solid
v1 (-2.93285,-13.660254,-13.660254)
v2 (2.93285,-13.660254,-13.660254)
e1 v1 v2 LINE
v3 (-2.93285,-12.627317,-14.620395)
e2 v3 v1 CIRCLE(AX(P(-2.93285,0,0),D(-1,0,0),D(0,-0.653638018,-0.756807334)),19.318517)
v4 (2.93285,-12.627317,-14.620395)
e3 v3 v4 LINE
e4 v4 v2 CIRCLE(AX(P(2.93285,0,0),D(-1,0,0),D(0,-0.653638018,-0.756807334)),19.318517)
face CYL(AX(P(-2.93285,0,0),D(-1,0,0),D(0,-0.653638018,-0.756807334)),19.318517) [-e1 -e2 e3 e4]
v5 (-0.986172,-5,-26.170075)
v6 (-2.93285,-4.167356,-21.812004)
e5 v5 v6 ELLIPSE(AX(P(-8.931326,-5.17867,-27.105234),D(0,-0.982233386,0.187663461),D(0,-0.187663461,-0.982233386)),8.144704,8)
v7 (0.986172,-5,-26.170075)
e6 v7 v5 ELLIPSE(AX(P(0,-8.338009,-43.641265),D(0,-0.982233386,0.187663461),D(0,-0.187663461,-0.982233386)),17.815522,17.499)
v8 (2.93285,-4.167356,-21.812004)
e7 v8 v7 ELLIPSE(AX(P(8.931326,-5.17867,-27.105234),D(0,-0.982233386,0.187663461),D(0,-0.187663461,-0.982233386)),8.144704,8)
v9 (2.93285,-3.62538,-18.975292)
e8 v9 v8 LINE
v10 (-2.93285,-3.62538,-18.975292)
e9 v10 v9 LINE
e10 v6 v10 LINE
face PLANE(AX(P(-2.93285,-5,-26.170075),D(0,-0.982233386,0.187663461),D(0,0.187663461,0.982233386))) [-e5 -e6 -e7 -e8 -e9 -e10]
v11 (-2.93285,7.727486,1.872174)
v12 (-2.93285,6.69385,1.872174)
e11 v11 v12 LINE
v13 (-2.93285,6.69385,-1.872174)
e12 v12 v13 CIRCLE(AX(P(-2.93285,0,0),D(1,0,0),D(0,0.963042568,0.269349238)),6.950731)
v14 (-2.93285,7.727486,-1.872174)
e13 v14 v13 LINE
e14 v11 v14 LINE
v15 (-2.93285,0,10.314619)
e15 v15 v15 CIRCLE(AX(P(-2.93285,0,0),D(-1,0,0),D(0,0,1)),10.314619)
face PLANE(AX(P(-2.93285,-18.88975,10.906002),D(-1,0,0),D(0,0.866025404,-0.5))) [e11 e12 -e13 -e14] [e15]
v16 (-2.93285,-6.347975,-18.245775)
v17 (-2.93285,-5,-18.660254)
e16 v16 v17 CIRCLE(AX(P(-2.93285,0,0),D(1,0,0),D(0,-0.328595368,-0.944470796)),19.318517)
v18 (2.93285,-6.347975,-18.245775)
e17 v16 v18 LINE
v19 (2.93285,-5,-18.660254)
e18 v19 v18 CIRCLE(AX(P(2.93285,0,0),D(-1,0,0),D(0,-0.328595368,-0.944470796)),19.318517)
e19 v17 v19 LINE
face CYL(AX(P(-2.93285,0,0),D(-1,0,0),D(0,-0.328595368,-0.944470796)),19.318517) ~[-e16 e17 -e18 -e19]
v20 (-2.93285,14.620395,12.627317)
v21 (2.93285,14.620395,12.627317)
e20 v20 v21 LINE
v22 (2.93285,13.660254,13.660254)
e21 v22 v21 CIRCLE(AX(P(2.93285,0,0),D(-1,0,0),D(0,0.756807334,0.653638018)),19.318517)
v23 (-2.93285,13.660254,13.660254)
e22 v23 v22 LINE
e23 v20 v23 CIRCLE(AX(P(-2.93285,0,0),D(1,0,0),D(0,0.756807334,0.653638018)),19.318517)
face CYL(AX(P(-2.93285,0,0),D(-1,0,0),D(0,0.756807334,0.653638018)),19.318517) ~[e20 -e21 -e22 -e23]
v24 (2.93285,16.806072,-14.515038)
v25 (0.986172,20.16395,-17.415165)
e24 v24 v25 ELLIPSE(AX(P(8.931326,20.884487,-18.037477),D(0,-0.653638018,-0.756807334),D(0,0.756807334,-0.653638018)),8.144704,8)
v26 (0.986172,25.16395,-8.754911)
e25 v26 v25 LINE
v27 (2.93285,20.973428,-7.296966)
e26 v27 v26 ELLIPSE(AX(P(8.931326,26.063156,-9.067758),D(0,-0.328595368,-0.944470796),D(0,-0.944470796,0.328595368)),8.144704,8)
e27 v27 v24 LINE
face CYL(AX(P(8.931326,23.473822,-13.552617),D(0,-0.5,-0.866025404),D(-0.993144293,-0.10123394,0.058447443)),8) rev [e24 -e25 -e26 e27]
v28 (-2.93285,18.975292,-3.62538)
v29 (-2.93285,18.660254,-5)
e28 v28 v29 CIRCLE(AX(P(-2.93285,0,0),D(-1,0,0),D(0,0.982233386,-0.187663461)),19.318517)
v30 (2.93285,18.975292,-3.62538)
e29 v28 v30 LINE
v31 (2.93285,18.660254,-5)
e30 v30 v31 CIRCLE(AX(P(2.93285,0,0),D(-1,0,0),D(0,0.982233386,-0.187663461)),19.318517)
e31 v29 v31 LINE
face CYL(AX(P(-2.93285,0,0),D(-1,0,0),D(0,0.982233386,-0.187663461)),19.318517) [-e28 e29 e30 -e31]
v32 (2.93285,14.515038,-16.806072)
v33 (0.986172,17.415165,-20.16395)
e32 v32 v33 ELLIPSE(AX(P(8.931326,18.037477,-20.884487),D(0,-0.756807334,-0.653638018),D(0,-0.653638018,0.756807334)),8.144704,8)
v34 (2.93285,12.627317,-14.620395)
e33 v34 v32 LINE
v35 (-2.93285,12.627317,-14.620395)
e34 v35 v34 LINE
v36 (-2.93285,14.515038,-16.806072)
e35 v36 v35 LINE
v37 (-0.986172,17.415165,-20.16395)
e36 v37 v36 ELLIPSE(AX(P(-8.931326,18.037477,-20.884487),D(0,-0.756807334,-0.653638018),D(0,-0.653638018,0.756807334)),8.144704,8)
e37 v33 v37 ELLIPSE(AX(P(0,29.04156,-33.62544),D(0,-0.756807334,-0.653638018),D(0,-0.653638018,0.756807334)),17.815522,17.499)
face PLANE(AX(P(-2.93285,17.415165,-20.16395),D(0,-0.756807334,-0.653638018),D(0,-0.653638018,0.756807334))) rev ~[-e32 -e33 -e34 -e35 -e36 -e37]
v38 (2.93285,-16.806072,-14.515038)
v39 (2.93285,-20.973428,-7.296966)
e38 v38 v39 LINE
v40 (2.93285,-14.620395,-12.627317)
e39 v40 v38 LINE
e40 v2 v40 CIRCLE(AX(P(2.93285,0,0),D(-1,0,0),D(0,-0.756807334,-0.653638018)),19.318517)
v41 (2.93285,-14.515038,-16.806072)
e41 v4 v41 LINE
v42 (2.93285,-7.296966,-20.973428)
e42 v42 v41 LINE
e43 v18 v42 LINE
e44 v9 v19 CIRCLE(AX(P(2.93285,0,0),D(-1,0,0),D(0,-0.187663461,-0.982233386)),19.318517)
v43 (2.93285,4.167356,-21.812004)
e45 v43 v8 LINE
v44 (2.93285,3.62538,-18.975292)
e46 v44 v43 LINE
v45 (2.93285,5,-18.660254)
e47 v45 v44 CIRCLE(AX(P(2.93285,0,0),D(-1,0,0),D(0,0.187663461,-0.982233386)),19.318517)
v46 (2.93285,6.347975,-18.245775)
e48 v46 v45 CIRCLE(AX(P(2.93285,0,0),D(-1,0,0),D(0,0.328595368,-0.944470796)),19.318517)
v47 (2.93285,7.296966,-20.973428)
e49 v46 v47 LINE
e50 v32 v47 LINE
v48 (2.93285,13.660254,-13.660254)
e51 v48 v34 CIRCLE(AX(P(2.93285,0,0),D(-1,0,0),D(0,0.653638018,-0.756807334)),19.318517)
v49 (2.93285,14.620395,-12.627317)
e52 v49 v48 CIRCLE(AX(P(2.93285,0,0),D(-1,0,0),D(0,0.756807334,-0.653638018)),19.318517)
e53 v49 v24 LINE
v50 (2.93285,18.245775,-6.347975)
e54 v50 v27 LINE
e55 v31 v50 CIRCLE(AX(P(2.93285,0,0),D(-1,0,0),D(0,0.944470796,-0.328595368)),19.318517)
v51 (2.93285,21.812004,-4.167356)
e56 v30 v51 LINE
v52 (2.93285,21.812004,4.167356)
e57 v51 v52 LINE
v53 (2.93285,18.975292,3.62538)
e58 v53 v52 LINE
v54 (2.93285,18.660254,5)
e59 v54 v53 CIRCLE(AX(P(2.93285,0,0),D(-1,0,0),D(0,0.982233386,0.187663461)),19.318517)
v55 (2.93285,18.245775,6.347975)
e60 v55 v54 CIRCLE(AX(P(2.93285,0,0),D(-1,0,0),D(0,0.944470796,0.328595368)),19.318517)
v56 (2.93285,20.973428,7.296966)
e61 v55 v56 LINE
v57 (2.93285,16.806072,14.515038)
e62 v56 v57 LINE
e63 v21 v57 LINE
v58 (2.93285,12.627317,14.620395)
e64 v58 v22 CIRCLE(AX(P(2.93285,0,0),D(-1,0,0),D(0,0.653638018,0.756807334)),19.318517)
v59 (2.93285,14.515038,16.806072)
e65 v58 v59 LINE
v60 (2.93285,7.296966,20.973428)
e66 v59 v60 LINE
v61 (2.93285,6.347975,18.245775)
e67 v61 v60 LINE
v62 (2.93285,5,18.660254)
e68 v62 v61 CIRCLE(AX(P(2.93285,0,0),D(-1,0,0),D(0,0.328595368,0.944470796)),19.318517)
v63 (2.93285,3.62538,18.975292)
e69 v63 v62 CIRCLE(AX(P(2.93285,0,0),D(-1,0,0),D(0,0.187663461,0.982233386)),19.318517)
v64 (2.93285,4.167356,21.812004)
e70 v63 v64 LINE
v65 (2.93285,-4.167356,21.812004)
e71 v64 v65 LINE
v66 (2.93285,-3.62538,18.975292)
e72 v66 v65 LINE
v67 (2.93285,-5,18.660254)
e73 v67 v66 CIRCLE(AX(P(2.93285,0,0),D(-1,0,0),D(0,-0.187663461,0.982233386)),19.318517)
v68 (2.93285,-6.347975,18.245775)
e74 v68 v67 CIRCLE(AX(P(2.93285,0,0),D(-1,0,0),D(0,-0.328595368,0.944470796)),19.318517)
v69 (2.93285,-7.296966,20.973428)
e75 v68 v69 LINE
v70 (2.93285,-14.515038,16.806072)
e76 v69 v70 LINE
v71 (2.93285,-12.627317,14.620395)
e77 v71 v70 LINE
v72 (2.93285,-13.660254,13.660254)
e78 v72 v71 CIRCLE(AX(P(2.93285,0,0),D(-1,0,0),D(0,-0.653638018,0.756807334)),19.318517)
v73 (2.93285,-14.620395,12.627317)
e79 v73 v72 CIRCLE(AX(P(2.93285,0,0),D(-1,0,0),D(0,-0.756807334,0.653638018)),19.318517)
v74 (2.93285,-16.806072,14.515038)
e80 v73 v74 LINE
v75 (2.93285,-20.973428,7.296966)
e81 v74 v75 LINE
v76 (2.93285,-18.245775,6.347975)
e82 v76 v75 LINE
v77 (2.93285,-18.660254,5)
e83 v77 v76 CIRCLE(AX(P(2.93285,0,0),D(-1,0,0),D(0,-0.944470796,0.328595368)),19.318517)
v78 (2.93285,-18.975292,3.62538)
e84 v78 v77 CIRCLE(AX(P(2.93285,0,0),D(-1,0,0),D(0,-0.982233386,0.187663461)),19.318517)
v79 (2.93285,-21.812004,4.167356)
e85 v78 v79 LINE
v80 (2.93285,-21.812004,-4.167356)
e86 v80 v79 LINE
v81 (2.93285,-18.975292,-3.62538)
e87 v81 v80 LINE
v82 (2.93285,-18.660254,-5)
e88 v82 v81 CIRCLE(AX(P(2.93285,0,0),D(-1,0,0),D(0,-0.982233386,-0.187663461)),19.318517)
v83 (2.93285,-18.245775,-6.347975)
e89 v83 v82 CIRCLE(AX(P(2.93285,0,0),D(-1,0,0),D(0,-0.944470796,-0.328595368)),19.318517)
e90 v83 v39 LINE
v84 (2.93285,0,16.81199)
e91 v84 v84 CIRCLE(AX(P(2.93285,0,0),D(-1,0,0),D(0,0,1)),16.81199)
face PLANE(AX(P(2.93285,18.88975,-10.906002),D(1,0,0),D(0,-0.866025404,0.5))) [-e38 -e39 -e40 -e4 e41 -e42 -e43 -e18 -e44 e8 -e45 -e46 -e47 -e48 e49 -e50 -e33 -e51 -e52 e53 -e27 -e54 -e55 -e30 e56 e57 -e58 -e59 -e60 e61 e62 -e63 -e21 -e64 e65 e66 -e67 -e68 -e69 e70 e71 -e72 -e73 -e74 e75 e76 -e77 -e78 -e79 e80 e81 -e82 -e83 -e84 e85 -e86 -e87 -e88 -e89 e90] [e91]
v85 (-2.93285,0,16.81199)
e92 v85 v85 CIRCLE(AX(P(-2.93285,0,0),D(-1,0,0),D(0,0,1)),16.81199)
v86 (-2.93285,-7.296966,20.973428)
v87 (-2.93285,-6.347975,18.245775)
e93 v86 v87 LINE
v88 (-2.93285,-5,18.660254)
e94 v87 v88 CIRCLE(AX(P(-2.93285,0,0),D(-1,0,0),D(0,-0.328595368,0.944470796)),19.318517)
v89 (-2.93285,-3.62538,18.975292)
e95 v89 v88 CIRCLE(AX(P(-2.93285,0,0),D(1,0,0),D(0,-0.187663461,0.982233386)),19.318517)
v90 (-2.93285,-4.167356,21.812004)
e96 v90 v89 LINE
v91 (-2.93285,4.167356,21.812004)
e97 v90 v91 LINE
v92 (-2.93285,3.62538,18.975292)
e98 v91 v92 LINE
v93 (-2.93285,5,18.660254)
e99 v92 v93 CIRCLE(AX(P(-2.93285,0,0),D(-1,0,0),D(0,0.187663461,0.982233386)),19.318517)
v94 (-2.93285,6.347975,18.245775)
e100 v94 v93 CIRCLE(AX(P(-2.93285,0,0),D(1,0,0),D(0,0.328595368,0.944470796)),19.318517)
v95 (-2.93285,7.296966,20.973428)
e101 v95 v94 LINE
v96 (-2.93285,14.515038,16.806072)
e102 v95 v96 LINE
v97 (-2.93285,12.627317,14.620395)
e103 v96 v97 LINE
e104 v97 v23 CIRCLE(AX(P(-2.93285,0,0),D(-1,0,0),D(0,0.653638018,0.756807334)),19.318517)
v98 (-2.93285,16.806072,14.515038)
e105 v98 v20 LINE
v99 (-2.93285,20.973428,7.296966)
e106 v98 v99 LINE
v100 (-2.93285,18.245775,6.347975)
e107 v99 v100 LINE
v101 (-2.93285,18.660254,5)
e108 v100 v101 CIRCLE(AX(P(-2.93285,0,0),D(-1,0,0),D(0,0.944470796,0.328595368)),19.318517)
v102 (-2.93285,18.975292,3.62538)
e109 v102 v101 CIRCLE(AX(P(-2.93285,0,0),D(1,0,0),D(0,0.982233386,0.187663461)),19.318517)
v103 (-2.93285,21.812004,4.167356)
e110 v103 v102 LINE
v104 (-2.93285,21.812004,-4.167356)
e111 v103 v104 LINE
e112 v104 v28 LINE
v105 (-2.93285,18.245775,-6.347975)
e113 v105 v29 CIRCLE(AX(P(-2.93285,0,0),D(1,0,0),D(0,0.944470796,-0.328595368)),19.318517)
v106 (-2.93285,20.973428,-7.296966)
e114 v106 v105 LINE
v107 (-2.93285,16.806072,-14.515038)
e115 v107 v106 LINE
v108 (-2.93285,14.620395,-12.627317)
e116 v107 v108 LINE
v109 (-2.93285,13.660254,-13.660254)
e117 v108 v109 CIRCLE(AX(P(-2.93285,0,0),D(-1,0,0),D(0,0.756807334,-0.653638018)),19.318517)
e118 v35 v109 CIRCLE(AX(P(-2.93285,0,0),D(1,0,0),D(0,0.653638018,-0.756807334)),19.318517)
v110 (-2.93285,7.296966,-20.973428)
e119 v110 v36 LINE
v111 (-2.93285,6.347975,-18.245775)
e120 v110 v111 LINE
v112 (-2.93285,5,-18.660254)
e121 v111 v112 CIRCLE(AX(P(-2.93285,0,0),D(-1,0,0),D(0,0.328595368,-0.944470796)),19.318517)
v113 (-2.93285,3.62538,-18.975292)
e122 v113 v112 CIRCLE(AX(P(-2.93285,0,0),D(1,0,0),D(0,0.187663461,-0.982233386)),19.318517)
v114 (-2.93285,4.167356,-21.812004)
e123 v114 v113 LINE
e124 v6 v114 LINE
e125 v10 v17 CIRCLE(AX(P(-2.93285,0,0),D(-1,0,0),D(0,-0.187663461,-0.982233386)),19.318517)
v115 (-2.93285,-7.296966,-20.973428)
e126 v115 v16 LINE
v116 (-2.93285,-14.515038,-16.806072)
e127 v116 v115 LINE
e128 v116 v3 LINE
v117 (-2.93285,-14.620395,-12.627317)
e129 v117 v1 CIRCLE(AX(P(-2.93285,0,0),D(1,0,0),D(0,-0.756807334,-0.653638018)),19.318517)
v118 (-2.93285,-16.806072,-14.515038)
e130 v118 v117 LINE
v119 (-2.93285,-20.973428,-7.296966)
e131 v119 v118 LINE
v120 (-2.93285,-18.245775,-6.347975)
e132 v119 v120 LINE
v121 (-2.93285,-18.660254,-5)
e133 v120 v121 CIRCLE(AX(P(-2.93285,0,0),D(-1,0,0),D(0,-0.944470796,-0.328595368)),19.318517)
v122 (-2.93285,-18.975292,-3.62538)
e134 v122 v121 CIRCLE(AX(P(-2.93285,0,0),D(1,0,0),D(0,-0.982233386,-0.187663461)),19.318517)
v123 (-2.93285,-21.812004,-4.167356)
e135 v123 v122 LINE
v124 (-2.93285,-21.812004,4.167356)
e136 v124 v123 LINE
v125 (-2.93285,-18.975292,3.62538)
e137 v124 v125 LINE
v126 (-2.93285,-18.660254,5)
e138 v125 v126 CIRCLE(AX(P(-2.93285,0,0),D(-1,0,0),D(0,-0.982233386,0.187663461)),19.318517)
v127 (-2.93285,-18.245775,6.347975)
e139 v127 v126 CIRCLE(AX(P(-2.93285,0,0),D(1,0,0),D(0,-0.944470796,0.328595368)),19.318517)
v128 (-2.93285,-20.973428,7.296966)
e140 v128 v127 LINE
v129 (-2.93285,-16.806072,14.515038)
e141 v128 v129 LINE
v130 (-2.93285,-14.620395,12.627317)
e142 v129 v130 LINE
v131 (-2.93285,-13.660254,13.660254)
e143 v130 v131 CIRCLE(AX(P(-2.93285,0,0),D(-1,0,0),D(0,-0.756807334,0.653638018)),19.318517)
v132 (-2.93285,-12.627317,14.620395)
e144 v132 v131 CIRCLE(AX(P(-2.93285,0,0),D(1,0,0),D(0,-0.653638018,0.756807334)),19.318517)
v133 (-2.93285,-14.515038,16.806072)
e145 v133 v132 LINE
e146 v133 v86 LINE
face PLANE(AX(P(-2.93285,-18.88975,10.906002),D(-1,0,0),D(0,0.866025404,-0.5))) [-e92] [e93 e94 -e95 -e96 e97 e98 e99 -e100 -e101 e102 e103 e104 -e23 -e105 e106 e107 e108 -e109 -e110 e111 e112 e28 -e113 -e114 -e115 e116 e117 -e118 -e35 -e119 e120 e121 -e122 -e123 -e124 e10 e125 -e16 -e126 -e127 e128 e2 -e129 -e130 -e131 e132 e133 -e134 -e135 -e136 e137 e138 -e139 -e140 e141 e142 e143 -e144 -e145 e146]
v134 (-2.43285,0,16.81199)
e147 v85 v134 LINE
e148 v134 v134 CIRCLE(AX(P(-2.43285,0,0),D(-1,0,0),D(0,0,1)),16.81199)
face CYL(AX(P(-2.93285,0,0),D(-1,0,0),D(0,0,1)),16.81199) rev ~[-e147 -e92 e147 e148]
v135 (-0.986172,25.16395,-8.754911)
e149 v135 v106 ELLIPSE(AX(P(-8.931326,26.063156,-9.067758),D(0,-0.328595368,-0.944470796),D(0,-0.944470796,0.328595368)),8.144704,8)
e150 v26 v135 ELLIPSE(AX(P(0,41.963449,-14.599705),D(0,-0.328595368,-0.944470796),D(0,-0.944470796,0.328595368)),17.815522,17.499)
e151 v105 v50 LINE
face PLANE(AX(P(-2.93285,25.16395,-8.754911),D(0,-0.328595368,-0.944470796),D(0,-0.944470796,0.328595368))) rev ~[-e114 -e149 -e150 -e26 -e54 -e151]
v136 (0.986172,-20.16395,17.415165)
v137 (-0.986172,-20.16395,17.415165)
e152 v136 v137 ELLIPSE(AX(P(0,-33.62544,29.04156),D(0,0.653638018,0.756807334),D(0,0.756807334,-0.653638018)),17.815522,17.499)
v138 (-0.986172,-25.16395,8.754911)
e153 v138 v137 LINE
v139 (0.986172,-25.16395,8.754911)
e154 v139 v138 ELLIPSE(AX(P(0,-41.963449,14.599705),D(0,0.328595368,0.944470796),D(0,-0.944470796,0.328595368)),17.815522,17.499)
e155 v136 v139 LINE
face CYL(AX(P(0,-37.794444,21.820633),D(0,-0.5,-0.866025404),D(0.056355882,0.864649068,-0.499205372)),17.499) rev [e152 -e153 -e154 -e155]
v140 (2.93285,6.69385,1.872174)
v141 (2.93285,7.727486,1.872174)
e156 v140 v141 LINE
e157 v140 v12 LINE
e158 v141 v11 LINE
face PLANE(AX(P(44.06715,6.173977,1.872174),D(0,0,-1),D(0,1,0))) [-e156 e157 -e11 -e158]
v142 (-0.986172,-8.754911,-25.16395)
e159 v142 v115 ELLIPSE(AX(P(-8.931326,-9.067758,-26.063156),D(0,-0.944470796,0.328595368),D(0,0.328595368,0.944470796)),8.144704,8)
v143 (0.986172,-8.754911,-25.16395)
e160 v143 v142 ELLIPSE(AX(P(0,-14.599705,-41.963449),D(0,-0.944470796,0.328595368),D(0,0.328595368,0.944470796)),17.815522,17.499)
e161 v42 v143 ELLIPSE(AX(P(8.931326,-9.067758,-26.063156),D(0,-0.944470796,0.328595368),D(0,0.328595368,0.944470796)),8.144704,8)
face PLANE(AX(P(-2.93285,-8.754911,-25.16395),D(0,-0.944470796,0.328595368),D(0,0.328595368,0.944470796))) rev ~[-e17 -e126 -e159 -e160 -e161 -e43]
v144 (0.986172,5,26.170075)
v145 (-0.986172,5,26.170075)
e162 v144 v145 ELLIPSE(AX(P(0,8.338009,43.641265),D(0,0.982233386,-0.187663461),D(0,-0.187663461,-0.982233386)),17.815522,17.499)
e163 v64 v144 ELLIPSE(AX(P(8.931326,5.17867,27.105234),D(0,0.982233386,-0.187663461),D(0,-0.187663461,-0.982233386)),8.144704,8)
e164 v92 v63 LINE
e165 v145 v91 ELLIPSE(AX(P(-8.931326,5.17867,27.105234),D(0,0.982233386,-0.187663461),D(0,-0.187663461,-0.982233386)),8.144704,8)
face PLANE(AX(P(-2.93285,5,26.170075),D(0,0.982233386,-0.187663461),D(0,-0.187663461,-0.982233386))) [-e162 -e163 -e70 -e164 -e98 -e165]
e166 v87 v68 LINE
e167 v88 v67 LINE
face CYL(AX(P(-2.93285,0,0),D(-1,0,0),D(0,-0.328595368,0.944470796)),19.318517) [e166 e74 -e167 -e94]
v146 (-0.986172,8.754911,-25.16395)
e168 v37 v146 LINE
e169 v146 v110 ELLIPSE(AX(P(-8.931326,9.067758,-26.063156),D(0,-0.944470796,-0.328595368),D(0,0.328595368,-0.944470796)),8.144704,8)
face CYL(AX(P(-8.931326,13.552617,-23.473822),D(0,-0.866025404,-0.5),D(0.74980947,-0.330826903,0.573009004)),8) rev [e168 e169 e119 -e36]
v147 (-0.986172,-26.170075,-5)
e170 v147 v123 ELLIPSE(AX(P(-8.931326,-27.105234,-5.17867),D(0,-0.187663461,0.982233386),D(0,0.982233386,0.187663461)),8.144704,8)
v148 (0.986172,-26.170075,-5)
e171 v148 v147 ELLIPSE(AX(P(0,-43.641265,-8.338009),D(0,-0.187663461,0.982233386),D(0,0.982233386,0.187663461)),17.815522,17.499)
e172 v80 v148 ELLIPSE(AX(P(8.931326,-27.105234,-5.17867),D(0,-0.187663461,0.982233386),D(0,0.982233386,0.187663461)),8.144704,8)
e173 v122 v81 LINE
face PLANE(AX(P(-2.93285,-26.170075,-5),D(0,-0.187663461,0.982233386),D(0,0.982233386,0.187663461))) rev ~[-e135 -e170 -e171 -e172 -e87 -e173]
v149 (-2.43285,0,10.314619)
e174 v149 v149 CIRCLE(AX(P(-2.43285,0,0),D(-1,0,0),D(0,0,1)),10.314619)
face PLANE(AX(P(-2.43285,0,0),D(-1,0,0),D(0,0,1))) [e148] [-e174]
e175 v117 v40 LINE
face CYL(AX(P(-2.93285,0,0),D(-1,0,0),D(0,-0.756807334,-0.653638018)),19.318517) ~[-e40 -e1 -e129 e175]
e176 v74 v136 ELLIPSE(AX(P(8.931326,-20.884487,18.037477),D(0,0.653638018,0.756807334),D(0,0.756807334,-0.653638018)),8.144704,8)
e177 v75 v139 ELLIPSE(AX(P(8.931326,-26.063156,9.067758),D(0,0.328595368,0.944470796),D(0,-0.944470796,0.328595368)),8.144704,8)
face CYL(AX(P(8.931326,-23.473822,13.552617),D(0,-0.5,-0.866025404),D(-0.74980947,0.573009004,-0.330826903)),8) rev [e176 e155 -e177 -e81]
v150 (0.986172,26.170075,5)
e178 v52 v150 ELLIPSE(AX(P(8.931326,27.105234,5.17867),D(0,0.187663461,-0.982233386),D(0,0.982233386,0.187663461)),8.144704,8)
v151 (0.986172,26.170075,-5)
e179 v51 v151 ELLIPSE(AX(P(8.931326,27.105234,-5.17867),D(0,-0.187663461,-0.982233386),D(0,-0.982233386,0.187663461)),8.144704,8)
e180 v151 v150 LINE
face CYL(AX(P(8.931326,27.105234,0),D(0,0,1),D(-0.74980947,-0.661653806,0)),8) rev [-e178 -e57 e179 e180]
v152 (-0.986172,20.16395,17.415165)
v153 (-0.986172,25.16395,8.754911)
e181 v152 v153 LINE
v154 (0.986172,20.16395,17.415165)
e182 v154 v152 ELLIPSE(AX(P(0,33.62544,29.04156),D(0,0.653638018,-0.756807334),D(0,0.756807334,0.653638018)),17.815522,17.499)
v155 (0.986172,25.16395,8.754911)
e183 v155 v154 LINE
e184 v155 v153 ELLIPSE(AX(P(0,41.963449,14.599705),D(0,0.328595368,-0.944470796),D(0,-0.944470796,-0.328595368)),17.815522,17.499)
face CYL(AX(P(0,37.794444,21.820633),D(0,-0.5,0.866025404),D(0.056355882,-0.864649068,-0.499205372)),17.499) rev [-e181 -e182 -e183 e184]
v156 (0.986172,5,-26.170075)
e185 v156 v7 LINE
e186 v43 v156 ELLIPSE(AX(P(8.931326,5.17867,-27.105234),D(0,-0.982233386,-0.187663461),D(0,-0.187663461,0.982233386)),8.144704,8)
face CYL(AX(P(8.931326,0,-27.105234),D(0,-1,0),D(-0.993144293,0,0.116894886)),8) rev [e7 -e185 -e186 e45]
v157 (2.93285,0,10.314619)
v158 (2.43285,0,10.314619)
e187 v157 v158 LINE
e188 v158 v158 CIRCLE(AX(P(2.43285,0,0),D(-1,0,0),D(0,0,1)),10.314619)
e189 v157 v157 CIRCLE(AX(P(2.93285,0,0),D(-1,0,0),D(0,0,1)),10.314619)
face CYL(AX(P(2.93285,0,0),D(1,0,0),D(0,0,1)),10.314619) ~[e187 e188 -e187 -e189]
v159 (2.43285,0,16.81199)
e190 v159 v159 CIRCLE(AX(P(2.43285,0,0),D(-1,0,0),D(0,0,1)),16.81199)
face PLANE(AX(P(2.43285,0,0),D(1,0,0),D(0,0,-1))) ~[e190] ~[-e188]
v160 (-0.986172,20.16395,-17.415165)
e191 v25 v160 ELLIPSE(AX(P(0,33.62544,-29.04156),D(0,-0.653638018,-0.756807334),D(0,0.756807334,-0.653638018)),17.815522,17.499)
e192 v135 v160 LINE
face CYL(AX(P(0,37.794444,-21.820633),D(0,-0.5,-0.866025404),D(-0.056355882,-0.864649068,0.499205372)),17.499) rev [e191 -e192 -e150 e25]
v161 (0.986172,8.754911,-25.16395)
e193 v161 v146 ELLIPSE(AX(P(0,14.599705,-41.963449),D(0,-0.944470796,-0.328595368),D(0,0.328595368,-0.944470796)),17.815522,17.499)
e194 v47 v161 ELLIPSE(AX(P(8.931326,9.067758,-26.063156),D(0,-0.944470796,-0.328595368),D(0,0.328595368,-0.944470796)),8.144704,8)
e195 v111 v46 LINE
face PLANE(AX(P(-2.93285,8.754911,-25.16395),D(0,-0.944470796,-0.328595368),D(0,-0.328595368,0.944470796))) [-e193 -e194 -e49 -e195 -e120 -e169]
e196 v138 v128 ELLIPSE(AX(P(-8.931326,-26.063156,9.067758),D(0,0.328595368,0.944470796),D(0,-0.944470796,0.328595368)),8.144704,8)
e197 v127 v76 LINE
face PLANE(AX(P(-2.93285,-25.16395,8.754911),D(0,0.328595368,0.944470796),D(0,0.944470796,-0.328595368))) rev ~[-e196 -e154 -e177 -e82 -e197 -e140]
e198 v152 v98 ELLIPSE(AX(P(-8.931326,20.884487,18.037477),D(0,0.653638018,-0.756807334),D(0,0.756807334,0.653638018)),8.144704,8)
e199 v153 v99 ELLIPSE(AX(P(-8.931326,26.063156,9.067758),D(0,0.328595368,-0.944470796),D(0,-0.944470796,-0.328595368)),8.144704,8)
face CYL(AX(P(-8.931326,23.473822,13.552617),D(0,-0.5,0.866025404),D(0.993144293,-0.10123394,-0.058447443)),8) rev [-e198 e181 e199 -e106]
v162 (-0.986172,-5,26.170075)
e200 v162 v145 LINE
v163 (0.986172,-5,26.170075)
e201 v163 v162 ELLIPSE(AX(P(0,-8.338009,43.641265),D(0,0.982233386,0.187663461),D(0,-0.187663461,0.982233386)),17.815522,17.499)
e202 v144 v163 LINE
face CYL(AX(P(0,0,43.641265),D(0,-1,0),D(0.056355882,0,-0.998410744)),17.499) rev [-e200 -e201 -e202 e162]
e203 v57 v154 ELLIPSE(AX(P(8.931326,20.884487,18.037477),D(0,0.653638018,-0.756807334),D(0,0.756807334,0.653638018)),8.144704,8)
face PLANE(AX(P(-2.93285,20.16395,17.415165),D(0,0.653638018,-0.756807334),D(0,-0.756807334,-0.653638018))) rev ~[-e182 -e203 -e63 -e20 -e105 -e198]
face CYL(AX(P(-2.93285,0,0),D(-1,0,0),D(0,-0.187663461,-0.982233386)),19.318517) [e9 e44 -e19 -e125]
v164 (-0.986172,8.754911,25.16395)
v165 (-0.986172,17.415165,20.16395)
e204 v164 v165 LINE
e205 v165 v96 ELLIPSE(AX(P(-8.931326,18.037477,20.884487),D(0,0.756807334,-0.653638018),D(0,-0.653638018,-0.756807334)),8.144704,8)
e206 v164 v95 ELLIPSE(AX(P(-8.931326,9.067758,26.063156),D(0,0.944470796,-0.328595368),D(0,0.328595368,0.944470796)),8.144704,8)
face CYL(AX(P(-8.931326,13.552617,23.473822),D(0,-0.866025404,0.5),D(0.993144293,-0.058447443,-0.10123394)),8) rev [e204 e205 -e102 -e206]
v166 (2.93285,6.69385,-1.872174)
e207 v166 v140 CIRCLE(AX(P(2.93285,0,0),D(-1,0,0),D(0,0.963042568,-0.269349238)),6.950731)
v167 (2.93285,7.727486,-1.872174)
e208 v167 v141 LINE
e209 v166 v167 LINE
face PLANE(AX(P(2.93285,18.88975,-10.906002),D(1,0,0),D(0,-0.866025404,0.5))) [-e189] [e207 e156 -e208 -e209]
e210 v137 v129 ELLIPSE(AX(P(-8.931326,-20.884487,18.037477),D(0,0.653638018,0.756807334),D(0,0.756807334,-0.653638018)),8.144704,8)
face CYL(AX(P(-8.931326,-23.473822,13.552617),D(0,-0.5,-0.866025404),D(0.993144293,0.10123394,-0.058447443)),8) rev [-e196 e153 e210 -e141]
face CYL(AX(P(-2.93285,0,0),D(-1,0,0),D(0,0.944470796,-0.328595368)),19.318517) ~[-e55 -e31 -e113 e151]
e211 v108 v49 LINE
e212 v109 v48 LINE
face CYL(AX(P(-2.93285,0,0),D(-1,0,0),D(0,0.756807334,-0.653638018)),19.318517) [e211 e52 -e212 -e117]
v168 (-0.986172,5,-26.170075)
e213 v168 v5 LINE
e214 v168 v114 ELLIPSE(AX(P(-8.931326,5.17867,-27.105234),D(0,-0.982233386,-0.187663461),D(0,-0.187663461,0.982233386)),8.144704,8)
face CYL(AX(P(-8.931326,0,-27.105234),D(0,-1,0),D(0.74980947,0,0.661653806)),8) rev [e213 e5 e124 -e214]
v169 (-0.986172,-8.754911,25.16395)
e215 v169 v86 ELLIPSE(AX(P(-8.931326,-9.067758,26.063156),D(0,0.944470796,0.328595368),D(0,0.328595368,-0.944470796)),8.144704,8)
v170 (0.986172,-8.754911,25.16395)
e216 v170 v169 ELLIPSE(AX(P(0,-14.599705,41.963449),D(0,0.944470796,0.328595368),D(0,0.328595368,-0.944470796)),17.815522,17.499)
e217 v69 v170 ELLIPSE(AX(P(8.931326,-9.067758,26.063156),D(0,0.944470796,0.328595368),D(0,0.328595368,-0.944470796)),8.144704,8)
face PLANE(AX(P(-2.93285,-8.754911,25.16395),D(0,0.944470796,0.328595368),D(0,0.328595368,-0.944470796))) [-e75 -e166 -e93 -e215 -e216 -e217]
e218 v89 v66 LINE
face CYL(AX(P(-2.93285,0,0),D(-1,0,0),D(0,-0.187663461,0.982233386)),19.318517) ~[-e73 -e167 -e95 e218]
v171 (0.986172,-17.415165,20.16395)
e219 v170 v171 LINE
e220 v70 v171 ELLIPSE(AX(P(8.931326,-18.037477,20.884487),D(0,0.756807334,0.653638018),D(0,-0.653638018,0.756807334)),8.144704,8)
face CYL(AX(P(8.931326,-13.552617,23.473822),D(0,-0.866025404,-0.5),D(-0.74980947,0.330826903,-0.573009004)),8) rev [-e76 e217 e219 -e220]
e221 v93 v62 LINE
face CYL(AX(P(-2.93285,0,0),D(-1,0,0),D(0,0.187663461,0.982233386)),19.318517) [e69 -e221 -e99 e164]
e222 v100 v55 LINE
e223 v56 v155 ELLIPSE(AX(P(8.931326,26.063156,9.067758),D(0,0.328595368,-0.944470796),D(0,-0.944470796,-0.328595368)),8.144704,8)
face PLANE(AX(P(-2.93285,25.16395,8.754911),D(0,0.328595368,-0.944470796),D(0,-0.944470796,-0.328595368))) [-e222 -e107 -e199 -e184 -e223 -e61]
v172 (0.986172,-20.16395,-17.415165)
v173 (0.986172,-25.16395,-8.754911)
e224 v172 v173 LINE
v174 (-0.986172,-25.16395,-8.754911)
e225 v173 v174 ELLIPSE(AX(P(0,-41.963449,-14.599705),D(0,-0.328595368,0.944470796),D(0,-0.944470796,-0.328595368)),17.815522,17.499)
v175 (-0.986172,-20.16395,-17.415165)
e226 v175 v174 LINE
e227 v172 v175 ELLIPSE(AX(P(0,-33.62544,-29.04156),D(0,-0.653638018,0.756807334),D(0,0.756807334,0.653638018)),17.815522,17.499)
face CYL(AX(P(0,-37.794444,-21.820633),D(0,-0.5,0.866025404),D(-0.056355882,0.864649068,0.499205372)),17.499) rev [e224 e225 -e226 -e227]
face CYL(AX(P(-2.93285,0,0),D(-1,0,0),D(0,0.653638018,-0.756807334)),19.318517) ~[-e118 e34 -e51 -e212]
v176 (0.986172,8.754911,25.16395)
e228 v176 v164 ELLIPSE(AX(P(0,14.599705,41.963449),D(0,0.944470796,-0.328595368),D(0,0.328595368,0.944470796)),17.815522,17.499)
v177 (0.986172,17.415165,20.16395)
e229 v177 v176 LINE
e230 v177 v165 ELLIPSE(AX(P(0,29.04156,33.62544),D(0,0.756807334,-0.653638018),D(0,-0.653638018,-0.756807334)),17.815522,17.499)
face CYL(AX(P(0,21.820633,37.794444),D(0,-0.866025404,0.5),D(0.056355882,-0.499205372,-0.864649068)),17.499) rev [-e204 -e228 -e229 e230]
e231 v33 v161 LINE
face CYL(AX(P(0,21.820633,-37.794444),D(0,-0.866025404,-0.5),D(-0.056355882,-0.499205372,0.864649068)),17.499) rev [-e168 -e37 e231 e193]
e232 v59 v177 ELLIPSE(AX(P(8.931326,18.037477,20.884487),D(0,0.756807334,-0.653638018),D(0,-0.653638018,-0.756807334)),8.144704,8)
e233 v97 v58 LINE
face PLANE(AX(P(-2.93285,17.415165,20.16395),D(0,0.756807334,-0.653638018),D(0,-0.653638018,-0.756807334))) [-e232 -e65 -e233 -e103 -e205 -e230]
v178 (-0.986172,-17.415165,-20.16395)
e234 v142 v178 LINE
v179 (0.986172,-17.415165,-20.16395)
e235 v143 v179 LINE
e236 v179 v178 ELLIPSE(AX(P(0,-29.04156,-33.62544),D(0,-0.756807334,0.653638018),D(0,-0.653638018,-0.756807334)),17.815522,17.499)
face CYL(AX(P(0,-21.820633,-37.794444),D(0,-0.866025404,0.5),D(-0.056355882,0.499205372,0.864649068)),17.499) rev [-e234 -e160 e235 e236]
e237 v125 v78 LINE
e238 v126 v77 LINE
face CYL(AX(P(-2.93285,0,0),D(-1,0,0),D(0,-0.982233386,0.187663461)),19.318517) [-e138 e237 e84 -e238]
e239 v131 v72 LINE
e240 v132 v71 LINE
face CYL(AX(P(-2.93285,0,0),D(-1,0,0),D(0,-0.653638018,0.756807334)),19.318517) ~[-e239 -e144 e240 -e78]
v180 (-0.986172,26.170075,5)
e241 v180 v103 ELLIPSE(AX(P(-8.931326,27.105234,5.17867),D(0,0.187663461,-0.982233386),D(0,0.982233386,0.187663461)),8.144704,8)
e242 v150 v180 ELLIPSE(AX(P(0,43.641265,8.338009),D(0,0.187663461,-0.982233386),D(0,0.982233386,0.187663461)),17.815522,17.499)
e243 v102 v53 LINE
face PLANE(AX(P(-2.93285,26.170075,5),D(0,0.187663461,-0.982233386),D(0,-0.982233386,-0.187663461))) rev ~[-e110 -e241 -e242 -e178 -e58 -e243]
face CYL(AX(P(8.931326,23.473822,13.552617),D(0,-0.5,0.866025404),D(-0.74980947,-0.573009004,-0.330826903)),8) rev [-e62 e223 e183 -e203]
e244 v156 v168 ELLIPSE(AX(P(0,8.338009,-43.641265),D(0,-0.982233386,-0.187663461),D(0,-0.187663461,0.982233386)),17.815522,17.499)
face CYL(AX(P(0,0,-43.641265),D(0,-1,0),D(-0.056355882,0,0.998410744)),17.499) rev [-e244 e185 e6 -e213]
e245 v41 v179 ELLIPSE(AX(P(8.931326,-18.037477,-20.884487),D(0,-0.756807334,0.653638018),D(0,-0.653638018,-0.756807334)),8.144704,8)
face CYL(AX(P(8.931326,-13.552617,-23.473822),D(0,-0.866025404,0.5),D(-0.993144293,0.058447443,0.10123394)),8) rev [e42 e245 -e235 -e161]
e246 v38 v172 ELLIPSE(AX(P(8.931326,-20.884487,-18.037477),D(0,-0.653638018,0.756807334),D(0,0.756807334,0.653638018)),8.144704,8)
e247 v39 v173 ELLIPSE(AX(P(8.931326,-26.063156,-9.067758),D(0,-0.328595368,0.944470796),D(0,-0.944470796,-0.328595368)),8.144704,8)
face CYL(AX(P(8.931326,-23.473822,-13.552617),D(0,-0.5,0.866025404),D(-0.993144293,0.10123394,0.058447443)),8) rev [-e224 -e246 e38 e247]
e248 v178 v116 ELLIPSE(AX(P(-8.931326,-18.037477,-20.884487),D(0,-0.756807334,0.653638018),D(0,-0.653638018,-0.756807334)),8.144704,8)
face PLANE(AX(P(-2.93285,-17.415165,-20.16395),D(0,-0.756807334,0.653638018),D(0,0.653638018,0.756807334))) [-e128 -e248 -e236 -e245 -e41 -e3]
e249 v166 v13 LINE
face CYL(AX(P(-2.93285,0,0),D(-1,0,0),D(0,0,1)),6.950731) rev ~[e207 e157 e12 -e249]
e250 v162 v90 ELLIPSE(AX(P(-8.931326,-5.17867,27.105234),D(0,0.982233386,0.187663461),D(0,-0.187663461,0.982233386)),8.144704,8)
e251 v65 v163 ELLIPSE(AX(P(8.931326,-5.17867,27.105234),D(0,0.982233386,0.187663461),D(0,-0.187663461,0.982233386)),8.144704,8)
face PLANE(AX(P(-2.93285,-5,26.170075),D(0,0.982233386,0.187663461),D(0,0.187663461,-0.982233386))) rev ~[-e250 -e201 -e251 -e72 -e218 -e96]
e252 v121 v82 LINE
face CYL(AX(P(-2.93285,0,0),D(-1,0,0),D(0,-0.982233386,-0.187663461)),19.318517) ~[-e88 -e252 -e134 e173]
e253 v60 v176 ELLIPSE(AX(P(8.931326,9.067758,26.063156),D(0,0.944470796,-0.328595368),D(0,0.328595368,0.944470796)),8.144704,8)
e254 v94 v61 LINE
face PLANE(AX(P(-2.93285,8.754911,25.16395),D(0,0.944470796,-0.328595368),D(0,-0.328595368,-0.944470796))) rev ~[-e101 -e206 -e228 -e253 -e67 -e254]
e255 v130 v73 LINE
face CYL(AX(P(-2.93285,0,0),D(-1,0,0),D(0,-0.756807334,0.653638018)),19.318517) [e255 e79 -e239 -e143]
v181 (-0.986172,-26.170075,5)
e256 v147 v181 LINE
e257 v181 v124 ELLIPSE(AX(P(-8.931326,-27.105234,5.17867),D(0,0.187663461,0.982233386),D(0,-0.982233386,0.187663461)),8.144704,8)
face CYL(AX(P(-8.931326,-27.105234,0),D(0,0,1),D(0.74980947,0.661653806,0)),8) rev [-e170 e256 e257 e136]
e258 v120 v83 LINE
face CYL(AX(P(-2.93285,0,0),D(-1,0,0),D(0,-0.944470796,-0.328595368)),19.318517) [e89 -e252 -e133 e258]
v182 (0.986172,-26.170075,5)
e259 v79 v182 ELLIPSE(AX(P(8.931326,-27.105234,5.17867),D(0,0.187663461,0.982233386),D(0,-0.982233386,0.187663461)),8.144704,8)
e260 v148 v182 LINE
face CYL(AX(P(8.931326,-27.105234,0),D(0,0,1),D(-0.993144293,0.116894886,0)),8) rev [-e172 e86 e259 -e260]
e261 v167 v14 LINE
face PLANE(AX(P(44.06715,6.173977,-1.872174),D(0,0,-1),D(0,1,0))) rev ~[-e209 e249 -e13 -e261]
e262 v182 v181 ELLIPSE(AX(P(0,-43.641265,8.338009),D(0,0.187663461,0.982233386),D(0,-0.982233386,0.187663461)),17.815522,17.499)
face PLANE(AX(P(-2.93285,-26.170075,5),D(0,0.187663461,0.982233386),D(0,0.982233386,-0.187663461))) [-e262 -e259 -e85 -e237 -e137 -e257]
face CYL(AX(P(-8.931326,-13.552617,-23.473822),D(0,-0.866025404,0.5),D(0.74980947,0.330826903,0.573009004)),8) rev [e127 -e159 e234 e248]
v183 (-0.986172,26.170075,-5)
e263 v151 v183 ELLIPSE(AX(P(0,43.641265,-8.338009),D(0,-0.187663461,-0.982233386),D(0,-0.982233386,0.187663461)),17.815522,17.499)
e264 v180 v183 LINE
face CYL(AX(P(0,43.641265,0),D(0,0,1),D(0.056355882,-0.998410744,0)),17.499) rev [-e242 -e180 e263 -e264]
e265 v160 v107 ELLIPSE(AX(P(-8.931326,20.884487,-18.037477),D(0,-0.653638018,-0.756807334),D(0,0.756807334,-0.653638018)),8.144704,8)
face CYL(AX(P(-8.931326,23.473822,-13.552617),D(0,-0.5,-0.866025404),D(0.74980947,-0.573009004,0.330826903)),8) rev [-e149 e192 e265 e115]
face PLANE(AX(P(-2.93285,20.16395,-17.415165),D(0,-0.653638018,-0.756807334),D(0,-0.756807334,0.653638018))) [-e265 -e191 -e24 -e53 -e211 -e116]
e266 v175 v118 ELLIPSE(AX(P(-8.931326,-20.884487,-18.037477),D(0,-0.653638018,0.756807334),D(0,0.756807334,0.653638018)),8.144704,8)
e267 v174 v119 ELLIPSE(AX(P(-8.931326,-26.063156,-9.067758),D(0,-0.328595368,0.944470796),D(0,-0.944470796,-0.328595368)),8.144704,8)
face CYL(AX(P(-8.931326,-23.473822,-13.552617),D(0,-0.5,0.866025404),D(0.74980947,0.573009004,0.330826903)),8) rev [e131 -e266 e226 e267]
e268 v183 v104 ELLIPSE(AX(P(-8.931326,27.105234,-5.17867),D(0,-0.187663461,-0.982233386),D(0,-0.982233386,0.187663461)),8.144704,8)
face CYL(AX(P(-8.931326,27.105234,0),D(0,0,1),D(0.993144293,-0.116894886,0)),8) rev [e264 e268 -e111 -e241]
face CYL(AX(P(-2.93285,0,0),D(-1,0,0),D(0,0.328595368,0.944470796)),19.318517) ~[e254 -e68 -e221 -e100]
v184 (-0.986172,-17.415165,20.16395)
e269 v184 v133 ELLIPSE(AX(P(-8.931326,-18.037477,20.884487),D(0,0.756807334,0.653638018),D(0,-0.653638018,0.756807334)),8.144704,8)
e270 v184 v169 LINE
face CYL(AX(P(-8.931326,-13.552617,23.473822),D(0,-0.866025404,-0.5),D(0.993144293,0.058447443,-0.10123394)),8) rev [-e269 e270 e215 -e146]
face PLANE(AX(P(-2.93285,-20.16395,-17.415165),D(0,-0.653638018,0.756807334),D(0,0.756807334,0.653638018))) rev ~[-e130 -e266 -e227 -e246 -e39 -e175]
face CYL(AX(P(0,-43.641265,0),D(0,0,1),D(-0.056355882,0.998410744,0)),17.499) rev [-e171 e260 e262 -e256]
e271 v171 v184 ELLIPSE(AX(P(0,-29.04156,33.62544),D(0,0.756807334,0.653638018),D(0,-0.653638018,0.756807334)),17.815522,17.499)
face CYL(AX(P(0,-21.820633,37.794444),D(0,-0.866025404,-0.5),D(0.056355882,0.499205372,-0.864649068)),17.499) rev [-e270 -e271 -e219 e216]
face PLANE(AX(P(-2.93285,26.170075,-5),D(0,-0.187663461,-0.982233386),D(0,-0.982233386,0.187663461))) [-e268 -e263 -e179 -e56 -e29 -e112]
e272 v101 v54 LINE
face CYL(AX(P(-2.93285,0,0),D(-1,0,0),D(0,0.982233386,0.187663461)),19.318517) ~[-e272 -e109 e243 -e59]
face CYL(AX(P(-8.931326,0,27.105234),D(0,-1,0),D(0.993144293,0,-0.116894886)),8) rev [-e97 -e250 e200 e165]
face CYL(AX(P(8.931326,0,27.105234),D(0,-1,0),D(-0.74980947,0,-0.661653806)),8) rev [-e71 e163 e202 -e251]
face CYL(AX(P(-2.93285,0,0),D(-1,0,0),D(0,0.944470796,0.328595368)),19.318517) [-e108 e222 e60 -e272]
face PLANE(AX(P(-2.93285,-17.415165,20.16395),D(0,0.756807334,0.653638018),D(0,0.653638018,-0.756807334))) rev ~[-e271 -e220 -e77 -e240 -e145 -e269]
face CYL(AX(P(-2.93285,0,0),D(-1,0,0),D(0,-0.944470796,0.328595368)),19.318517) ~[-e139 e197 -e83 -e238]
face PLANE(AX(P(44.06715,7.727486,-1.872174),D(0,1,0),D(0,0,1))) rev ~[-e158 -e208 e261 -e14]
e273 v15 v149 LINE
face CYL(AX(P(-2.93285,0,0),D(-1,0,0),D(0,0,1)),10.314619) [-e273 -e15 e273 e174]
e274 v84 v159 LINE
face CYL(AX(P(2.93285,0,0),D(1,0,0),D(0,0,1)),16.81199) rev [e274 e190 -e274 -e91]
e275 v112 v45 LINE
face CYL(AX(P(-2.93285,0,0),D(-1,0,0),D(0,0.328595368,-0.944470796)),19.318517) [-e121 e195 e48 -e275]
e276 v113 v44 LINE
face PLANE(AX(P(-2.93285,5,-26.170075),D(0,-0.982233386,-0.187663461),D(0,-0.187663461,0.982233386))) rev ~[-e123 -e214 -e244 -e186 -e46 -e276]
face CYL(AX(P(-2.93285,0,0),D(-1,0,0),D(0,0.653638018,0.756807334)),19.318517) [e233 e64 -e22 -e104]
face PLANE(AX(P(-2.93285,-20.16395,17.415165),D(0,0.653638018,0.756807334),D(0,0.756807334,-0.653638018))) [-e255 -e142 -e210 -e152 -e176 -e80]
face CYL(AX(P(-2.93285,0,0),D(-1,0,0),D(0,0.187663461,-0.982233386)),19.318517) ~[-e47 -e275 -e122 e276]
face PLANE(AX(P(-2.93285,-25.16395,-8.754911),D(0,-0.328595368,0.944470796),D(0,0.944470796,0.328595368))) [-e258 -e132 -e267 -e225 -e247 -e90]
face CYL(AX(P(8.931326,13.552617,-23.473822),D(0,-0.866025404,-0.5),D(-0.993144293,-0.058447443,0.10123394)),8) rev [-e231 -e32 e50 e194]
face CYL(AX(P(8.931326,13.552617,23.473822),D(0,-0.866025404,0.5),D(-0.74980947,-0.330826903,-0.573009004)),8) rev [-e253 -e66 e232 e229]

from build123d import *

# Parameters (mm, degrees)
BOSS_EXTRUDE1_DEPTH     = 5
CIRPATTERN1_COUNT       = 12
SKETCH4_R               = 16.811989879
SKETCH4_R_2             = 10.314619087
CUT_EXTRUDE1_DEPTH      = 0.5
SKETCH5_R               = 6.950731161
CUT_EXTRUDE2_DEPTH      = 46.5
CUT_EXTRUDE3_DEPTH      = 46.5
CIRPATTERN2_COUNT       = 12
CUT_EXTRUDE4_DEPTH      = 46.5
CUT_EXTRUDE4_DEPTH_BACK = 46.5
SKETCH10_W              = 3.744348286
SKETCH10_H              = 1.553508974


with BuildPart() as part:
    # Sketch1 → Boss-Extrude1 (new, symmetric)
    with BuildSketch(Plane.XY):
        with BuildLine():
            ThreePointArc((-0.986171591, 26.170075379), (-1.626916196, 23.842475136), (-2.932850173, 21.812004013))
            Line((-2.932850173, 21.812004013), (-2.932850173, -21.812004013))
            ThreePointArc((-2.932850173, -21.812004013), (-1.626916196, -23.842475136), (-0.986171591, -26.170075379))
            ThreePointArc((-0.986171591, -26.170075379), (0, -26.142264995), (0.986171591, -26.170075379))
            ThreePointArc((0.986171591, -26.170075379), (1.626916196, -23.842475136), (2.932850173, -21.812004013))
            Line((2.932850173, -21.812004013), (2.932850173, 21.812004013))
            ThreePointArc((2.932850173, 21.812004013), (1.626916196, 23.842475136), (0.986171591, 26.170075379))
            ThreePointArc((0.986171591, 26.170075379), (0, 26.142264995), (-0.986171591, 26.170075379))
        make_face()
    boss_extrude1 = extrude(amount=BOSS_EXTRUDE1_DEPTH, both=True)

    # CirPattern1: Boss-Extrude1 ×12 about axis
    cirpattern1_axis = Axis((-1000, 0, 0), (1, 0, 0))
    for i in range(1, CIRPATTERN1_COUNT):
        add(boss_extrude1.rotate(cirpattern1_axis, i * 360 / CIRPATTERN1_COUNT))

    # Sketch4 → Cut-Extrude1 (cut)
    with BuildSketch(Plane.ZY.offset(2.932850173)):
        Circle(SKETCH4_R)
        Circle(SKETCH4_R_2, mode=Mode.SUBTRACT)
    cut_extrude1 = extrude(amount=-CUT_EXTRUDE1_DEPTH, mode=Mode.SUBTRACT)

    # Sketch5 → Cut-Extrude2 (cut)
    with BuildSketch(Plane.ZY.offset(2.932850173)):
        Circle(SKETCH5_R)
    cut_extrude2 = extrude(amount=-CUT_EXTRUDE2_DEPTH, mode=Mode.SUBTRACT)

    # Sketch6 → Cut-Extrude3 (cut)
    with BuildSketch(Plane.ZY.offset(2.932850173)):
        with BuildLine():
            Line((-26.170075379, -5), (-18.975291906, -3.625379681))
            ThreePointArc((-18.975291906, -3.625379681), (-18.830320626, -4.315565534), (-18.660254038, -5))
            Line((-18.660254038, -5), (-26.170075379, -5))
        make_face()
        with BuildLine():
            Line((-26.170075379, 5), (-18.975291906, 3.625379681))
            ThreePointArc((-18.975291906, 3.625379681), (-18.830320626, 4.315565534), (-18.660254038, 5))
            Line((-18.660254038, 5), (-26.170075379, 5))
        make_face()
    cut_extrude3 = extrude(amount=-CUT_EXTRUDE3_DEPTH, mode=Mode.SUBTRACT)

    # CirPattern2: Cut-Extrude3 ×12 about axis
    cirpattern2_axis = Axis((-1000, 0, 0), (1, 0, 0))
    for i in range(1, CIRPATTERN2_COUNT):
        add(cut_extrude3.rotate(cirpattern2_axis, i * 360 / CIRPATTERN2_COUNT), mode=Mode.SUBTRACT)

    # Sketch10 → Cut-Extrude4 (cut, two sides: drawn at the far end of the back side and taken through both)
    with BuildSketch(Plane.ZY.offset(2.432850173).offset(-CUT_EXTRUDE4_DEPTH_BACK)):
        with Locations((0, 6.950731161)):
            Rectangle(SKETCH10_W, SKETCH10_H)
    extrude(amount=CUT_EXTRUDE4_DEPTH + CUT_EXTRUDE4_DEPTH_BACK, mode=Mode.SUBTRACT)

    # Mirror3: Cut-Extrude1, Cut-Extrude2 across plane
    add(cut_extrude1.mirror(Plane(origin=(0, 0, 0), x_dir=(0, 0, 1), z_dir=(1, 0, 0))), mode=Mode.SUBTRACT)
    add(cut_extrude2.mirror(Plane(origin=(0, 0, 0), x_dir=(0, 0, 1), z_dir=(1, 0, 0))), mode=Mode.SUBTRACT)


solid = part.part
